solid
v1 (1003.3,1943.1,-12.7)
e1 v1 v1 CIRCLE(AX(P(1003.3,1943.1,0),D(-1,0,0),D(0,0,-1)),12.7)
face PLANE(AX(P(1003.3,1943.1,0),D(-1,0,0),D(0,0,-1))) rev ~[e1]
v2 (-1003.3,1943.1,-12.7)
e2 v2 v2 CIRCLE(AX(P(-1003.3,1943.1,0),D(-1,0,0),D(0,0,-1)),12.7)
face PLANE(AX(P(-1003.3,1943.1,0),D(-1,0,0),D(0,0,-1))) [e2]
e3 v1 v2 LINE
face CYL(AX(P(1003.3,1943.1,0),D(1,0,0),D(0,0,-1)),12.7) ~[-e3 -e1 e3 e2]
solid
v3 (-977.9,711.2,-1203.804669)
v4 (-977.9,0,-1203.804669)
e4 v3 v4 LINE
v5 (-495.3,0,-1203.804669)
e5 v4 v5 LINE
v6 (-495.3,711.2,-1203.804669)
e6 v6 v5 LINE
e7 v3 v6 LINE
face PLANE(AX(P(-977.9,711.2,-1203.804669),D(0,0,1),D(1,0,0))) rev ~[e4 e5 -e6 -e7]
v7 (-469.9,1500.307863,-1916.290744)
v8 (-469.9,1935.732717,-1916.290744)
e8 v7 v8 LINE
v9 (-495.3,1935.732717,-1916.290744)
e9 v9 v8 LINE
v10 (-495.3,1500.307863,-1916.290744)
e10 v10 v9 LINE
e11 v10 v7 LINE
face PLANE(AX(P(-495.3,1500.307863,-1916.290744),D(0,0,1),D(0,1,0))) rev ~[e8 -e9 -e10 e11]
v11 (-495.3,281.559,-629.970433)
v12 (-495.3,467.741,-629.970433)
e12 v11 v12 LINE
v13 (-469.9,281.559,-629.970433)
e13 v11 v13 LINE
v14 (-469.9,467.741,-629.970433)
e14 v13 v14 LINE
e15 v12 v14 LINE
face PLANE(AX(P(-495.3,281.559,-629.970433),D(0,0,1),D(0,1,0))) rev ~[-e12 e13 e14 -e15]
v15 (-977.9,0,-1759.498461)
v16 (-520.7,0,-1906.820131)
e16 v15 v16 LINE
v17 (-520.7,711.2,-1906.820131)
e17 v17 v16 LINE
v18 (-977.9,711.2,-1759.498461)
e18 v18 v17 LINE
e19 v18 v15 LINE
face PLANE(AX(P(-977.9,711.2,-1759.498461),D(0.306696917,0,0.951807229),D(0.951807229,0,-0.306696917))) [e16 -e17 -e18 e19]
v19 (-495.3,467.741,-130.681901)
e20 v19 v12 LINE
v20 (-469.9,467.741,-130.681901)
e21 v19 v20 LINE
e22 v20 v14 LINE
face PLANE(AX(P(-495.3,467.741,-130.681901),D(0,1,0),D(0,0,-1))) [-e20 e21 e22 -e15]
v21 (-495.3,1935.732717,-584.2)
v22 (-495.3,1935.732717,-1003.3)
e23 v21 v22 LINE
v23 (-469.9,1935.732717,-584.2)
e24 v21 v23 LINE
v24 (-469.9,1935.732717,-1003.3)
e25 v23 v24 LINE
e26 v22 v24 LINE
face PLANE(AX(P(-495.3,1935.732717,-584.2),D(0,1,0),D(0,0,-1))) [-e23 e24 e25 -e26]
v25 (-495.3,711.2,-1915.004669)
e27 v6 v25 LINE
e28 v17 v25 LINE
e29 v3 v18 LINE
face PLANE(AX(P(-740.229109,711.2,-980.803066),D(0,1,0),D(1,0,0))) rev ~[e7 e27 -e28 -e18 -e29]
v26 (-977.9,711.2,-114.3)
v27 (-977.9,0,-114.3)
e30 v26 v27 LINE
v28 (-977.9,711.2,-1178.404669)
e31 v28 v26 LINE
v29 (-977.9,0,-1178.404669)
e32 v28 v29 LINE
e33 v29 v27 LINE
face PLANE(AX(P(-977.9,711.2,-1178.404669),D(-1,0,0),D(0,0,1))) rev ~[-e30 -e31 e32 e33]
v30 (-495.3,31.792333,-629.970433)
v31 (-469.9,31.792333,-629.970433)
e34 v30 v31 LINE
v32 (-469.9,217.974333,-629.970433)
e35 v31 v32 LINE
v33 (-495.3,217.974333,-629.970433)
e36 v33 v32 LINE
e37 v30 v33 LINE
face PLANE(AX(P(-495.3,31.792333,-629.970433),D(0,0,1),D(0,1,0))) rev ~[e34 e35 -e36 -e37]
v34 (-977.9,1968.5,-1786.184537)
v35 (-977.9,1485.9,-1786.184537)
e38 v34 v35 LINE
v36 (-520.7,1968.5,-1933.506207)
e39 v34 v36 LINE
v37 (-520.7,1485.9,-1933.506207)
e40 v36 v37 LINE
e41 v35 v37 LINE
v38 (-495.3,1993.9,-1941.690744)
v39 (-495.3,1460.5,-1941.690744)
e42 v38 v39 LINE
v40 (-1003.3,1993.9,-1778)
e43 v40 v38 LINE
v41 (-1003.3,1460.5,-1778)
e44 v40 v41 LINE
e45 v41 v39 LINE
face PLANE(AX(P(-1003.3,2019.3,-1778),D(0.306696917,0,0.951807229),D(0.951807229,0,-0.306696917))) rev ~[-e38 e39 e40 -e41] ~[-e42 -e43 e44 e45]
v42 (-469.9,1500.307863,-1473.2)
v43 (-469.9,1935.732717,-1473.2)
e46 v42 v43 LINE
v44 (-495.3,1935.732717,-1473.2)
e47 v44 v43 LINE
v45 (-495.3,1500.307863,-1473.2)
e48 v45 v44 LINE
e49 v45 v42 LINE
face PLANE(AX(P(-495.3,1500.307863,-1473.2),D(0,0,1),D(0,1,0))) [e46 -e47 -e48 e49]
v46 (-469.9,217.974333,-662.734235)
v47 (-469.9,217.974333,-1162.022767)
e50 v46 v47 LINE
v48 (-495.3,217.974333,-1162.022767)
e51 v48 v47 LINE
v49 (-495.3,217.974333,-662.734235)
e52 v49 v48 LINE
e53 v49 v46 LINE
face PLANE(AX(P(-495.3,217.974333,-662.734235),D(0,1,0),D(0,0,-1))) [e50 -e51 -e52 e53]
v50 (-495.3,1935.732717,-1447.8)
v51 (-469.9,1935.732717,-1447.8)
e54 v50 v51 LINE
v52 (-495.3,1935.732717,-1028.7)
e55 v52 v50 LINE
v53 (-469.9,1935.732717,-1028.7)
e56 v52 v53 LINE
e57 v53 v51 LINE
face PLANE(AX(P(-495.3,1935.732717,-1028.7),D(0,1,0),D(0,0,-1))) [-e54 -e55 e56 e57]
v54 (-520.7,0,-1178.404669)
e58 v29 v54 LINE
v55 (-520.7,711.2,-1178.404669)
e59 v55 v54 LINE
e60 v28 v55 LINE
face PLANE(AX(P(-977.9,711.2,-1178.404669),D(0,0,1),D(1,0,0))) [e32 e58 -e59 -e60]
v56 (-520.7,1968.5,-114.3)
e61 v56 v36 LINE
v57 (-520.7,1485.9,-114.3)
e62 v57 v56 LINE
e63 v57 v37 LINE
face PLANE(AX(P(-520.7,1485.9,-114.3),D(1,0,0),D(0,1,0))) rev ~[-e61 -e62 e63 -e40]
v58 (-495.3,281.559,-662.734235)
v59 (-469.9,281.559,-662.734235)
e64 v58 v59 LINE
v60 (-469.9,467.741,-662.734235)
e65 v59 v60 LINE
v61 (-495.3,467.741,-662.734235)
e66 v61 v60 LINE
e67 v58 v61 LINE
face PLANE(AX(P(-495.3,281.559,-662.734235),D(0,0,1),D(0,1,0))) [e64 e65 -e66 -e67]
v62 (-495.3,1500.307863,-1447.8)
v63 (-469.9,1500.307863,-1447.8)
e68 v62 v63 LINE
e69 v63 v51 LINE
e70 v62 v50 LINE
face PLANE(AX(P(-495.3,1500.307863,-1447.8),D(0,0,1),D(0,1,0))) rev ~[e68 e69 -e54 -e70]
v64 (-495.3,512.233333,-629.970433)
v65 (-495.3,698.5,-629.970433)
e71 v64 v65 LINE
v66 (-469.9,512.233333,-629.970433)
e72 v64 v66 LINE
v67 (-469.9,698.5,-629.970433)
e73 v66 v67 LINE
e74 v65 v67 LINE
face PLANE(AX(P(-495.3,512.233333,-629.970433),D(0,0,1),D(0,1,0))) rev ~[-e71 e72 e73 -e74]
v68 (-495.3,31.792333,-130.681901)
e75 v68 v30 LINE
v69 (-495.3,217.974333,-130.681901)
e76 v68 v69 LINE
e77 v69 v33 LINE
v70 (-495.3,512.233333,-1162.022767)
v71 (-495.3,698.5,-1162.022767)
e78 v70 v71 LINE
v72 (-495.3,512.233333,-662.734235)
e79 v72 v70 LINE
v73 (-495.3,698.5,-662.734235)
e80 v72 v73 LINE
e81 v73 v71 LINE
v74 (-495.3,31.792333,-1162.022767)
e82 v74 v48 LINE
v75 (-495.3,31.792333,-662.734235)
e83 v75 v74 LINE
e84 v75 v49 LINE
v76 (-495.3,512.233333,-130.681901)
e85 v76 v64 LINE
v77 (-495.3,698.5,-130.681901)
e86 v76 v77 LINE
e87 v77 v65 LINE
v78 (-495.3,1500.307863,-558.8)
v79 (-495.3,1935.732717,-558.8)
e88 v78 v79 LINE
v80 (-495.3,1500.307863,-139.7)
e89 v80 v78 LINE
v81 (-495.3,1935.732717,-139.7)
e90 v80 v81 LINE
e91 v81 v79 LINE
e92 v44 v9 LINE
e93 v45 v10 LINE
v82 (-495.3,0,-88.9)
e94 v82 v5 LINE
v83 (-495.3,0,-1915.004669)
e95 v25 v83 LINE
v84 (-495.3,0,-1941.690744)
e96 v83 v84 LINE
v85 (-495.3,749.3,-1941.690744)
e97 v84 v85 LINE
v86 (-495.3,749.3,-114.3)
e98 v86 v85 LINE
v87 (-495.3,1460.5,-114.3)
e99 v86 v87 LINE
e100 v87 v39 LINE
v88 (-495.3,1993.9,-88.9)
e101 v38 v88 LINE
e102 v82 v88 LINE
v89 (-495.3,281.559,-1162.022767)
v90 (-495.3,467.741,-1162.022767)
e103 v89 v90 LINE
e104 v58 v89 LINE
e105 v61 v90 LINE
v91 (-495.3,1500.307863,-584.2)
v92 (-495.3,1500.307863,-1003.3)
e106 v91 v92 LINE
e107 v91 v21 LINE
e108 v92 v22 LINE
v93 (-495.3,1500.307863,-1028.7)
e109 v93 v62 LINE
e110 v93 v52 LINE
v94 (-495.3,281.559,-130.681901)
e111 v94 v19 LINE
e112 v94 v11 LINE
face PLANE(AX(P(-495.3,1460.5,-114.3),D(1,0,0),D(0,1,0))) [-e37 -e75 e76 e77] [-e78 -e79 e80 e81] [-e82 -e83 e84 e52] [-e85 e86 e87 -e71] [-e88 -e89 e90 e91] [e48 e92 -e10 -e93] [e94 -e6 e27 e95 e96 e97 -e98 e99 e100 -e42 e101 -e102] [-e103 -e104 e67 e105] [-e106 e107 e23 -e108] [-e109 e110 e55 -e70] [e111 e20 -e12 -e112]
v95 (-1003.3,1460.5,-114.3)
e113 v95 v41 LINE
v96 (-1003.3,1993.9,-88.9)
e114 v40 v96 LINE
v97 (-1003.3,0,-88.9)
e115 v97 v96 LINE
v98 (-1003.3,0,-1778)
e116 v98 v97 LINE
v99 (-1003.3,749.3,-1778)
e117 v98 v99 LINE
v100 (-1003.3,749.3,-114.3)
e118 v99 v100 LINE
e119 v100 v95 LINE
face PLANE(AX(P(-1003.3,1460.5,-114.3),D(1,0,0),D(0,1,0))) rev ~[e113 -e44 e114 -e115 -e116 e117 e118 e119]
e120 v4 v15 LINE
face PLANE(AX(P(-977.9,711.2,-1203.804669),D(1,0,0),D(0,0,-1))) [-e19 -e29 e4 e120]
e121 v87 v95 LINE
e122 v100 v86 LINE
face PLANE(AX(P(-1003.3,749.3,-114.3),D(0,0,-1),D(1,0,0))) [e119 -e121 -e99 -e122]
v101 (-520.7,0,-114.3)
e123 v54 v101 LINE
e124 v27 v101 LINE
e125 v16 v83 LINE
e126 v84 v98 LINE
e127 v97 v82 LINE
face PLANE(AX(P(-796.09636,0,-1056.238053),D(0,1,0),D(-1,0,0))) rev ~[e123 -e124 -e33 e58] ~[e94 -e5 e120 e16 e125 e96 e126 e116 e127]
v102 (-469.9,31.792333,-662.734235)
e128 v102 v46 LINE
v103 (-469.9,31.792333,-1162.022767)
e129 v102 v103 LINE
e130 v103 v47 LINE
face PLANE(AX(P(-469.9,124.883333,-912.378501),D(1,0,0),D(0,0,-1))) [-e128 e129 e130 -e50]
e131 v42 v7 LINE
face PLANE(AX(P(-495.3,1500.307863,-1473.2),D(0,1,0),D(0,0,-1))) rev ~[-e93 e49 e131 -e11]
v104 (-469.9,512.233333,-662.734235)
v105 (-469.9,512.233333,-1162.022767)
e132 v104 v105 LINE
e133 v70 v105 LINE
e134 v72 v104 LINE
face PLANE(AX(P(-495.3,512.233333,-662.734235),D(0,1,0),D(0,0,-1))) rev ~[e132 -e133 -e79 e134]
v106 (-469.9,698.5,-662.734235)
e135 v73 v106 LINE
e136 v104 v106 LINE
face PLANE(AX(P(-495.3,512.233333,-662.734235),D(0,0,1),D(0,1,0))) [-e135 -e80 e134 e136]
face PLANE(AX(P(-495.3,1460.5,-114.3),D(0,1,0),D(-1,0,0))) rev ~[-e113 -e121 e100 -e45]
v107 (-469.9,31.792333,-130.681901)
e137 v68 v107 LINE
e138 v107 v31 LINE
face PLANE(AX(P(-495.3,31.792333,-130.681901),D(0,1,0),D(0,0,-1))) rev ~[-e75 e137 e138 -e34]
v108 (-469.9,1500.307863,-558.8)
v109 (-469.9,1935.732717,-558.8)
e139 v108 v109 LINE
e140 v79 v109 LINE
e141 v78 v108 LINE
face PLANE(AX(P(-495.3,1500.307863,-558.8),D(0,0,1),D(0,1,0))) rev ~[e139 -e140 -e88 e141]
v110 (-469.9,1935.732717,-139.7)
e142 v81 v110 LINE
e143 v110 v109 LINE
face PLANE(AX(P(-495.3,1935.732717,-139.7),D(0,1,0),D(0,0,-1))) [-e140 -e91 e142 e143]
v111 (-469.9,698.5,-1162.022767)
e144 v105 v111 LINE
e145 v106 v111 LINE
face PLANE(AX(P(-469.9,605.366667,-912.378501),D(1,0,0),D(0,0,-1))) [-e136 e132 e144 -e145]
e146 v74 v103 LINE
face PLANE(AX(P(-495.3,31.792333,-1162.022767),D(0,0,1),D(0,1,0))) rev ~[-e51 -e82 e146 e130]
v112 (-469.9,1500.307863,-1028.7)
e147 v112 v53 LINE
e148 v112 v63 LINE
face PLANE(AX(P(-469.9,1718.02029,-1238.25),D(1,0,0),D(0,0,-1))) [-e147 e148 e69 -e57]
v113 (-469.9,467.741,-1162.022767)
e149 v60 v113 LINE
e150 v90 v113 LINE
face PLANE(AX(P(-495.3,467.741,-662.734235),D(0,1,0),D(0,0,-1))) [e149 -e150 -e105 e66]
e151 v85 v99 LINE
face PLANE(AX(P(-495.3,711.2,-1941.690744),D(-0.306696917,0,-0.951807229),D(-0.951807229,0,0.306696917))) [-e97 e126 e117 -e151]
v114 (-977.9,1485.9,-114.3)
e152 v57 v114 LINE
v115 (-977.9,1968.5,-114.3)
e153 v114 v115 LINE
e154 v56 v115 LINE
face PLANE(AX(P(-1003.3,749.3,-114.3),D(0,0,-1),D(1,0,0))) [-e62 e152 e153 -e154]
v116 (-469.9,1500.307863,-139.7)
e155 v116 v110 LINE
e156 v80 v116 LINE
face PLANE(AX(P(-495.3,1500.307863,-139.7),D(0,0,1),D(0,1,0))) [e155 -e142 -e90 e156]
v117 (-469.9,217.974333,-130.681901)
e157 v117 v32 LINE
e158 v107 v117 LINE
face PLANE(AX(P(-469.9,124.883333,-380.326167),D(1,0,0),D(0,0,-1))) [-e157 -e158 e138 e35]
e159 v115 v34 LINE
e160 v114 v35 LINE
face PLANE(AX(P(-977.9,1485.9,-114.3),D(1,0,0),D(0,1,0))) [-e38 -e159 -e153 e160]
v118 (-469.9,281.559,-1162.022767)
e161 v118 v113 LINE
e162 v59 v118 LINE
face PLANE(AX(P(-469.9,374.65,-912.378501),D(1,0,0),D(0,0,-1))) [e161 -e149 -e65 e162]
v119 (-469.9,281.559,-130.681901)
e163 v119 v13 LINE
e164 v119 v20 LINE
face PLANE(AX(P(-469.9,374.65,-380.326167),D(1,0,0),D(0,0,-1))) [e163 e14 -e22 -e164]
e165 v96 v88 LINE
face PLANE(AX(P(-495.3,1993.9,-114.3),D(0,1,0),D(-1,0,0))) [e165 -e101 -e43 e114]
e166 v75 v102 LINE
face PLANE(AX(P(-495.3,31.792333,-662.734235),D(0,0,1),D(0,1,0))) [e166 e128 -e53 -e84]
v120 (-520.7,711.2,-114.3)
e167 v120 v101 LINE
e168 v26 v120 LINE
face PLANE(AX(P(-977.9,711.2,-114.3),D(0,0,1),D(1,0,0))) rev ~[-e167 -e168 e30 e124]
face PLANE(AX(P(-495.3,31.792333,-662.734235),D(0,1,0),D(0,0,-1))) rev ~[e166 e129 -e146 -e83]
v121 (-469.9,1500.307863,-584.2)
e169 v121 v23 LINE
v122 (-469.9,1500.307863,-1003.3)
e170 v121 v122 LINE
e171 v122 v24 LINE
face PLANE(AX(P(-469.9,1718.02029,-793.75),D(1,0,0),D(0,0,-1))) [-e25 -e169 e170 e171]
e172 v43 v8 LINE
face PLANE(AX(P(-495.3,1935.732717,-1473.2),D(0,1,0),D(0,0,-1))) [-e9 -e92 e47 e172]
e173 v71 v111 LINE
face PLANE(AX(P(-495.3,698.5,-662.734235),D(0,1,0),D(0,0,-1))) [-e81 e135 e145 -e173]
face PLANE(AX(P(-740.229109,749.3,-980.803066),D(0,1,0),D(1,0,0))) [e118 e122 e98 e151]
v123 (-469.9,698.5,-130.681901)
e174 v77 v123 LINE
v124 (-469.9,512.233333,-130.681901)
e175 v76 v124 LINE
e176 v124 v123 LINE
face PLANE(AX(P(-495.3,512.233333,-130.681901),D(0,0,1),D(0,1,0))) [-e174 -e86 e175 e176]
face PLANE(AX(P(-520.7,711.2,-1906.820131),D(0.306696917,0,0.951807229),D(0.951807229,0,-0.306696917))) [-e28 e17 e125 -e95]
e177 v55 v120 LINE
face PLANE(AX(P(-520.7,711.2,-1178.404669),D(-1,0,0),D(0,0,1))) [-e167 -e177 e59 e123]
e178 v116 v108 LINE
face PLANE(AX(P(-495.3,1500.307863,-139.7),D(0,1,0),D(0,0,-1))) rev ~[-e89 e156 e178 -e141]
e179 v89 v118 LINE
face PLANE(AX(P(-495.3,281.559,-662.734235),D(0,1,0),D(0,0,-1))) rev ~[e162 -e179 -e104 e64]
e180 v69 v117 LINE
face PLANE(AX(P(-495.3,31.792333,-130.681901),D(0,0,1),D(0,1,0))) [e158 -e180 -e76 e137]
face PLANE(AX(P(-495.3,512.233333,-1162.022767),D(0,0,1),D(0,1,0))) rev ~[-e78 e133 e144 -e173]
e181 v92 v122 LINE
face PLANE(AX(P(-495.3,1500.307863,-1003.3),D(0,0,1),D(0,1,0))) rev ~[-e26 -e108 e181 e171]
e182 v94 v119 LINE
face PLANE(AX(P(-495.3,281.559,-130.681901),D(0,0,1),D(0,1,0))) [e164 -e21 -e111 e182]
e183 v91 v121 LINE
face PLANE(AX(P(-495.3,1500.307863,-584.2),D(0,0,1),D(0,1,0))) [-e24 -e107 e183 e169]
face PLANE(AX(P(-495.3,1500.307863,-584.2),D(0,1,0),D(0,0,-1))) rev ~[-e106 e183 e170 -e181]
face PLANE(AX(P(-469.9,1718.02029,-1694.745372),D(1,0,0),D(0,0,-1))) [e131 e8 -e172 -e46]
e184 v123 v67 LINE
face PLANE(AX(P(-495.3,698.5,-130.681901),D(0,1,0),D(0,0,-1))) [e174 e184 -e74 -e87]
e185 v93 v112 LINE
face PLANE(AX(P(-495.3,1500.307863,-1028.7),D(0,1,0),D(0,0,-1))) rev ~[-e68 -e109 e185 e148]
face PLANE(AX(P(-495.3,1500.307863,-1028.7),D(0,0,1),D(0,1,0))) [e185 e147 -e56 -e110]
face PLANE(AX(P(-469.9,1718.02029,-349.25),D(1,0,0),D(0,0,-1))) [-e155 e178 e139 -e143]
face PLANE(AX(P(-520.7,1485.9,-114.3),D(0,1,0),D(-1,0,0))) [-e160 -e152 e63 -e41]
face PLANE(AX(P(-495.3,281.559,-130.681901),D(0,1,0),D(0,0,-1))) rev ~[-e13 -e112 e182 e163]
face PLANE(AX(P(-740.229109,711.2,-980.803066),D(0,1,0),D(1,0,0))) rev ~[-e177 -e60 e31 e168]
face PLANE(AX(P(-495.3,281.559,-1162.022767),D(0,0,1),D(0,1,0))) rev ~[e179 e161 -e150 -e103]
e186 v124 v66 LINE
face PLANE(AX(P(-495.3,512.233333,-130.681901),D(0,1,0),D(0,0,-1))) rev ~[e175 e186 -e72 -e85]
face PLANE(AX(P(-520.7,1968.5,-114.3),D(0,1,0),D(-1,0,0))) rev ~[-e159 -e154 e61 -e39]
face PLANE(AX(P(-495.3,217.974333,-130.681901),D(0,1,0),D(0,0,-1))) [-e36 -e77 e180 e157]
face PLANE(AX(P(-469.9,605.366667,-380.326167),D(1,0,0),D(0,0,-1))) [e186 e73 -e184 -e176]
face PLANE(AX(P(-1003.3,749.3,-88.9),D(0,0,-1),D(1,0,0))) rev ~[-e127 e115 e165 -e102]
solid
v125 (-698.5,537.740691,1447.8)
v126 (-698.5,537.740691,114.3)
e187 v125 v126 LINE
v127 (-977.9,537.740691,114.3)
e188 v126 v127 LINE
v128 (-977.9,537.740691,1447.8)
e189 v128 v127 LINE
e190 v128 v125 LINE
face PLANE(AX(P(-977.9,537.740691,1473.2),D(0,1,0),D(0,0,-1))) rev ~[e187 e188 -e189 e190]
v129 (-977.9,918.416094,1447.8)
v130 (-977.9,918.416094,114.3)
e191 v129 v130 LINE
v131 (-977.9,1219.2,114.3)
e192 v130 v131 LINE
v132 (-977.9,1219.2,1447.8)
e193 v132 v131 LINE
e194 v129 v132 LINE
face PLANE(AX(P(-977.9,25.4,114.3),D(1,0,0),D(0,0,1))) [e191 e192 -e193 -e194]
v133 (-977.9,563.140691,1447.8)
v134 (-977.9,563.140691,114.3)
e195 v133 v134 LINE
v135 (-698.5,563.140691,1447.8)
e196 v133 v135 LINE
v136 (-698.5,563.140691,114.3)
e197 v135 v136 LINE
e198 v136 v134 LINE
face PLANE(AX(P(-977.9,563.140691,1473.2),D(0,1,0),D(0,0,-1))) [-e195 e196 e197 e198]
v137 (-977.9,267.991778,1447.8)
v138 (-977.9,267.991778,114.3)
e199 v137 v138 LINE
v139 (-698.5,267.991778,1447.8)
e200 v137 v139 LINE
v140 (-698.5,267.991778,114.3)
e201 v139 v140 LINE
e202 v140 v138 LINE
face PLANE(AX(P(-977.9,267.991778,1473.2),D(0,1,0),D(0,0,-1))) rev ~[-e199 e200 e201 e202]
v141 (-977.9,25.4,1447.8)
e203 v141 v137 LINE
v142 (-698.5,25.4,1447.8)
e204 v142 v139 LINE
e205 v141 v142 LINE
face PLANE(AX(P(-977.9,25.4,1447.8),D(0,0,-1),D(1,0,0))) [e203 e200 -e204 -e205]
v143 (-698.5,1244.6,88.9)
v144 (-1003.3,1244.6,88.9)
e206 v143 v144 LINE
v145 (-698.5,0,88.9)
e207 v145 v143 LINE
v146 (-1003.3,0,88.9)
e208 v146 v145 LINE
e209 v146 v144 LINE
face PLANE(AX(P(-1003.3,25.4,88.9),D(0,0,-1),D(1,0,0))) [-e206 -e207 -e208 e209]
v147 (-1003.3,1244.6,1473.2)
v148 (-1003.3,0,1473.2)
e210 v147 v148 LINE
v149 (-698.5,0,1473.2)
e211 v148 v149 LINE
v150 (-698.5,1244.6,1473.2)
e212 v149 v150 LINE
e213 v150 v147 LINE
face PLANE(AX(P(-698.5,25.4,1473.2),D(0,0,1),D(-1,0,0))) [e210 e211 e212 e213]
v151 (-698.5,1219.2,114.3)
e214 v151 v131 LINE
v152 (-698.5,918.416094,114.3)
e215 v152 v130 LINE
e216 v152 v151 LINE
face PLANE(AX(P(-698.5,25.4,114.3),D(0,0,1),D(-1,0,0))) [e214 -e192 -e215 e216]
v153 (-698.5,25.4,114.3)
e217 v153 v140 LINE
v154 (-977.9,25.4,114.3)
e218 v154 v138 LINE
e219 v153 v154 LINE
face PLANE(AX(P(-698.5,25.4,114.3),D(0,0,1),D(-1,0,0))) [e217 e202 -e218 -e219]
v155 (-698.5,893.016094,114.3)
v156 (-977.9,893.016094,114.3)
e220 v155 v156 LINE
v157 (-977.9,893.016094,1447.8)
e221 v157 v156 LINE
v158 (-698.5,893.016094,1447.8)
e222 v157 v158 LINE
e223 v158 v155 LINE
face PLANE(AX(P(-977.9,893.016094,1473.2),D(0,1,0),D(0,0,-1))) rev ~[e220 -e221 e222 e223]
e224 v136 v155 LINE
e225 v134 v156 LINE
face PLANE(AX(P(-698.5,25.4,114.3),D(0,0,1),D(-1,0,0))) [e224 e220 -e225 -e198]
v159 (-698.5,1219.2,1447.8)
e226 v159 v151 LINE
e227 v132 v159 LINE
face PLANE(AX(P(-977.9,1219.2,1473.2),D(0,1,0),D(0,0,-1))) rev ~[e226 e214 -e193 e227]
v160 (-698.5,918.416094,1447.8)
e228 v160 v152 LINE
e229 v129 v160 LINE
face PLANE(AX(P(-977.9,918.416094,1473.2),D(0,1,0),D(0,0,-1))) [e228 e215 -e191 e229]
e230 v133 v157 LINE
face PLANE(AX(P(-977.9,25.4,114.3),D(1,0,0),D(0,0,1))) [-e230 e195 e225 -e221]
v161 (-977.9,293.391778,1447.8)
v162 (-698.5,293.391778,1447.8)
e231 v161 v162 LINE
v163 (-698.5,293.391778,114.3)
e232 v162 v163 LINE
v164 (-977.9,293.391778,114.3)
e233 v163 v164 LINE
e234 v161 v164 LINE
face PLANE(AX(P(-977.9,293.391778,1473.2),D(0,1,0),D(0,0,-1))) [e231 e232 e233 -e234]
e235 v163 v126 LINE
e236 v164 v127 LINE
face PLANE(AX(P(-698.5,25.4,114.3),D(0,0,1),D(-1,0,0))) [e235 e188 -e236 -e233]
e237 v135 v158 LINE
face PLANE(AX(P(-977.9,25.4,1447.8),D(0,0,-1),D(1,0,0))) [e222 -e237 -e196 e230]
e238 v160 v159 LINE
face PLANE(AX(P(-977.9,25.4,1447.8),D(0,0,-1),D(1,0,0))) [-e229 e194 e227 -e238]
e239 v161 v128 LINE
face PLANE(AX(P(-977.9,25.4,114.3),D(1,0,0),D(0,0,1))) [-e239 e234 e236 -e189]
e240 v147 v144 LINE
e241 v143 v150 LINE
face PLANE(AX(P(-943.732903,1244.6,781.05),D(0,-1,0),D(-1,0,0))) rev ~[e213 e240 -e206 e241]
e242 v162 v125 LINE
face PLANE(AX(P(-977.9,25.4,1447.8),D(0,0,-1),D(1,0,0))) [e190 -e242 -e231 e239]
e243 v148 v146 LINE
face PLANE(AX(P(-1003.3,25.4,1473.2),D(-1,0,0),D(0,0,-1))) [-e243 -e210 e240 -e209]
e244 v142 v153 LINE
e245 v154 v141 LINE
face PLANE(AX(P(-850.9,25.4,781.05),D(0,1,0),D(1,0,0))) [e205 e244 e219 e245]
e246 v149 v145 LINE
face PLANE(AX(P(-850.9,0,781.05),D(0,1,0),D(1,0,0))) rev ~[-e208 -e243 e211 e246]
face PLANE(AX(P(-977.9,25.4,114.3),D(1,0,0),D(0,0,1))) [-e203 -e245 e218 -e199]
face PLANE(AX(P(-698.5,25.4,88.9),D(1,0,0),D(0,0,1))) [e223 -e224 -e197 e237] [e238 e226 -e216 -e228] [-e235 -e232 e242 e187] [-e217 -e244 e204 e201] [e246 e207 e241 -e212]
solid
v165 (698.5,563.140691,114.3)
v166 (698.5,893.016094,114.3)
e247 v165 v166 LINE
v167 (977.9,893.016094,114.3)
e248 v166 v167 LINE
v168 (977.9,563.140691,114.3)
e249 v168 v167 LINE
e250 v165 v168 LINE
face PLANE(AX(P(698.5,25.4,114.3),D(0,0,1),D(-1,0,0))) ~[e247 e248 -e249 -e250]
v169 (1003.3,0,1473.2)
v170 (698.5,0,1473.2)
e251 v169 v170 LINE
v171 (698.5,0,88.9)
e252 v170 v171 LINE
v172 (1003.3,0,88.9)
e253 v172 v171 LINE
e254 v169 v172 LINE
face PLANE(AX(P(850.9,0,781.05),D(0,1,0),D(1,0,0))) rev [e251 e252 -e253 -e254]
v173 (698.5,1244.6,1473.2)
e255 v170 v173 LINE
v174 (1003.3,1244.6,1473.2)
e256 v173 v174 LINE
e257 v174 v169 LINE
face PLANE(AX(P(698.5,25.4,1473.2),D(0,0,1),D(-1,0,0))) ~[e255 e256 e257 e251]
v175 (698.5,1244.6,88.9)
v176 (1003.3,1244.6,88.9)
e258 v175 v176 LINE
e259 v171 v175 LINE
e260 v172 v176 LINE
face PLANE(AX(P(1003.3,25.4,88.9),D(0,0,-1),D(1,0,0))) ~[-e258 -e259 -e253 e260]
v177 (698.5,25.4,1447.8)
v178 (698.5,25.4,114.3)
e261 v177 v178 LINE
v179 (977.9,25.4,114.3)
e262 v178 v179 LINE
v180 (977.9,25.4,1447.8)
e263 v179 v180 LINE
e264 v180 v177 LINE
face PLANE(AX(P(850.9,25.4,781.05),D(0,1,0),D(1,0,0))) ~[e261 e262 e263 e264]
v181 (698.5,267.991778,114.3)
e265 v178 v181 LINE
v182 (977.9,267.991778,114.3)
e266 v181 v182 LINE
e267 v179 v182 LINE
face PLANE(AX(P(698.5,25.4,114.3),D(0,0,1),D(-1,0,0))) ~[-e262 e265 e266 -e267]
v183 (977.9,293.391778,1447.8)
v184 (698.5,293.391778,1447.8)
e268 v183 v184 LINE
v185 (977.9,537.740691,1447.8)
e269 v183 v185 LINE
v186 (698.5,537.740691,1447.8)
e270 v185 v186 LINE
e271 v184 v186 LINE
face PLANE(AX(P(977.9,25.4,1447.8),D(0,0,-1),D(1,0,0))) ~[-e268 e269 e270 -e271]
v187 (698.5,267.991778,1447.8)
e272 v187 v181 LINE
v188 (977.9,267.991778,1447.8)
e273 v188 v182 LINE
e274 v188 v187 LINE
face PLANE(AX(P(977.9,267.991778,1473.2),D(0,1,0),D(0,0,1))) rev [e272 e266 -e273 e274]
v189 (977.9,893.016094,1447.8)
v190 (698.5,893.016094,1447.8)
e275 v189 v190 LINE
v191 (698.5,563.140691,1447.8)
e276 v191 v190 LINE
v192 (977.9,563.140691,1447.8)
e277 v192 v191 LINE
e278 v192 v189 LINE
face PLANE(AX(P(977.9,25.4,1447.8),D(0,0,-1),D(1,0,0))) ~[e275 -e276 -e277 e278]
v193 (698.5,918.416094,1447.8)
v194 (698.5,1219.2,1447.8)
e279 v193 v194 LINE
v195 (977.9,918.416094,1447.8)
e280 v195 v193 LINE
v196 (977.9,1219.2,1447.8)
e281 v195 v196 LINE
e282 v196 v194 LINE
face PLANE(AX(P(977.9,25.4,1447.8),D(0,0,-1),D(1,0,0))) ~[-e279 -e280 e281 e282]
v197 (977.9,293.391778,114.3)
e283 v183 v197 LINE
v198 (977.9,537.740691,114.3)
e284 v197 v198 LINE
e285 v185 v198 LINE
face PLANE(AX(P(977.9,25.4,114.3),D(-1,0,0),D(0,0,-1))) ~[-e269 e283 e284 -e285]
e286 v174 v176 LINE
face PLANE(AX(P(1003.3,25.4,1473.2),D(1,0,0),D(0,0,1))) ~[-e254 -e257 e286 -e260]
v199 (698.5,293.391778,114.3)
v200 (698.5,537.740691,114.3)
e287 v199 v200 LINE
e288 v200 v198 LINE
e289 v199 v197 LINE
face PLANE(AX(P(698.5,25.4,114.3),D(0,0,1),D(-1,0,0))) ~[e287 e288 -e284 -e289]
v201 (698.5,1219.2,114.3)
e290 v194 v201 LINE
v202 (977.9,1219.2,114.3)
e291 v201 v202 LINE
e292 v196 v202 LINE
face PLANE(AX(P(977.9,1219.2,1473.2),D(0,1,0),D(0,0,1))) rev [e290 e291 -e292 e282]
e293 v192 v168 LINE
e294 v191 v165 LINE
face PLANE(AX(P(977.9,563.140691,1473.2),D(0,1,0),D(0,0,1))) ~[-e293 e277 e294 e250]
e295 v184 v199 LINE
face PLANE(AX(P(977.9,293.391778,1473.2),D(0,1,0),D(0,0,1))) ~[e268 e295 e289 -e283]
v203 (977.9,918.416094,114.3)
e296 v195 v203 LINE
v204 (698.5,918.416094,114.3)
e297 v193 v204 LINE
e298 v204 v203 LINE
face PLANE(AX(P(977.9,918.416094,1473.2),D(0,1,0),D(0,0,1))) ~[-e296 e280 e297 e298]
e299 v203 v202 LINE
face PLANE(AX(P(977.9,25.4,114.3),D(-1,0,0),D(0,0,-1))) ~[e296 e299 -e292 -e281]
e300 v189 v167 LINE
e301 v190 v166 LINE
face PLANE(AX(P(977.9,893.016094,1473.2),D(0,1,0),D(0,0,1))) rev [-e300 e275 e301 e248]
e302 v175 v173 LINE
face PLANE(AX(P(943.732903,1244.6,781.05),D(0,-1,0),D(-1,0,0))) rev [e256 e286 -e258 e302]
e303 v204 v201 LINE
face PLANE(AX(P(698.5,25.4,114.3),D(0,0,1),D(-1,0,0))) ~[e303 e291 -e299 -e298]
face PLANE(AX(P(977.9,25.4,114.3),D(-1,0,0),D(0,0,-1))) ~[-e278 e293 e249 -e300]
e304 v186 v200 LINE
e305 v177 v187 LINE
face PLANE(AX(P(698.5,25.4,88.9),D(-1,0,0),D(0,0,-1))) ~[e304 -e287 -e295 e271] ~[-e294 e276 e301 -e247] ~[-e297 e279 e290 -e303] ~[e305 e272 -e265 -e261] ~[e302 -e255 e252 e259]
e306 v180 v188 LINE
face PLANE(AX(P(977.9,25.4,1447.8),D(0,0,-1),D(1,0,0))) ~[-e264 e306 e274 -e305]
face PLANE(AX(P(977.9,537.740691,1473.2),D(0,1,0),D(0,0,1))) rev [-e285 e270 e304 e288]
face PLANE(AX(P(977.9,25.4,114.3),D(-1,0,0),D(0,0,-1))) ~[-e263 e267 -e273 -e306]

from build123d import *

# Parameters (mm, degrees)
SKETCH1_R            = 12.7
BOSS_EXTRUDE1_DEPTH  = 2006.6
BOSS_EXTRUDE2_DEPTH  = 38.1
SKETCH4_W            = 457.2
SKETCH4_H            = 1064.104668536
BOSS_EXTRUDE3_DEPTH  = 711.2
SKETCH5_W            = 499.288531824
SKETCH5_H            = 186.266666667
SKETCH5_H_2          = 186.182
BOSS_EXTRUDE4_DEPTH  = 25.4
SKETCH6_W            = 508
SKETCH6_H            = 25.4
BOSS_EXTRUDE5_DEPTH  = 1244.6
BOSS_EXTRUDE6_REACH  = 2886.719
SKETCH7_W            = 508
SKETCH7_H            = 533.4
SKETCH7_W_2          = 457.2
SKETCH7_H_2          = 482.6
SKETCH8_W            = 419.1
SKETCH8_H            = 435.424853887
SKETCH8_W_2          = 443.090744485
BOSS_EXTRUDE7_DEPTH  = 25.4
SKETCH9_W            = 304.8
SKETCH9_H            = 1384.3
BOSS_EXTRUDE8_DEPTH  = 25.4
BOSS_EXTRUDE9_DEPTH  = 1219.2
SKETCH11_W           = 1384.3
SKETCH11_H           = 25.4
BOSS_EXTRUDE10_DEPTH = 279.4


with BuildPart() as part:
    # Sketch1 → Boss-Extrude1 (new body)
    with BuildSketch(Plane.ZY.offset(-1003.3)):
        with Locations(Location((0, 1943.1, 0), (0, 0, 180))):
            Circle(SKETCH1_R)
    extrude(amount=BOSS_EXTRUDE1_DEPTH)


with BuildPart() as body_2:
    # Sketch3 → Boss-Extrude2 (new body)
    with BuildSketch(Plane(origin=(0, 711.2, 0), x_dir=(1, 0, 0), z_dir=(0, 1, 0))):
        Polygon((-495.3, 1941.690744485), (-1003.3, 1778), (-1003.3, 88.9), (-495.3, 88.9), align=None)
    extrude(amount=BOSS_EXTRUDE2_DEPTH)

    # Sketch4 → Boss-Extrude3 (add)
    with BuildSketch(Plane.XZ.offset(-711.2)):
        Polygon((-977.9, -1759.498461275), (-520.7, -1906.820131312), (-495.3, -1915.004668536), (-495.3, -1941.690744485), (-1003.3, -1778), (-1003.3, -88.9), (-495.3, -88.9), (-495.3, -1203.804668536), (-520.7, -1203.804668536), (-977.9, -1203.804668536), align=None)
        with Locations((-749.3, -646.352334268)):
            Rectangle(SKETCH4_W, SKETCH4_H, mode=Mode.SUBTRACT)
    extrude(amount=BOSS_EXTRUDE3_DEPTH)

    # Sketch5 → Boss-Extrude4 (add)
    with BuildSketch(Plane(origin=(-495.3, 0, 0), x_dir=(0, 0, -1), z_dir=(1, 0, 0))):
        with Locations((912.378501402, 605.366666667)):
            Rectangle(SKETCH5_W, SKETCH5_H)
        with Locations((380.326167134, 605.366666667)):
            Rectangle(SKETCH5_W, SKETCH5_H)
        with Locations((912.378501402, 124.883333333)):
            Rectangle(SKETCH5_W, SKETCH5_H_2)
        with Locations((380.326167134, 374.65)):
            Rectangle(SKETCH5_W, SKETCH5_H_2)
        with Locations((380.326167134, 124.883333333)):
            Rectangle(SKETCH5_W, SKETCH5_H_2)
        with Locations((912.378501402, 374.65)):
            Rectangle(SKETCH5_W, SKETCH5_H_2)
    extrude(amount=BOSS_EXTRUDE4_DEPTH)

    # Sketch6 → Boss-Extrude5 (add)
    with BuildSketch(Plane(origin=(0, 749.3, 0), x_dir=(1, 0, 0), z_dir=(0, 1, 0))):
        with Locations((-749.3, 101.6)):
            Rectangle(SKETCH6_W, SKETCH6_H)
    extrude(amount=BOSS_EXTRUDE5_DEPTH)

    # Boss-Extrude6: up to this plane
    boss_extrude6_end = Plane(origin=(-1003.3, 2019.3, -1778), z_dir=(0.306696917141153, 0, 0.9518072289156627))
    # Sketch7 → Boss-Extrude6 (add, up to the surface)
    with BuildSketch(Plane(origin=(0, 0, -114.3), x_dir=(-1, 0, 0), z_dir=(0, 0, -1)), mode=Mode.PRIVATE) as boss_extrude6_sk1:
        with Locations((749.3, 1727.2)):
            Rectangle(SKETCH7_W, SKETCH7_H)
        with Locations((749.3, 1727.2)):
            Rectangle(SKETCH7_W_2, SKETCH7_H_2, mode=Mode.SUBTRACT)
    boss_extrude6_tool1 = split(extrude(boss_extrude6_sk1.sketch, amount=BOSS_EXTRUDE6_REACH, mode=Mode.PRIVATE), bisect_by=boss_extrude6_end, keep=Keep.BOTH, mode=Mode.PRIVATE)
    add(boss_extrude6_tool1.solids().sort_by_distance((-749.3, 1986.534, -114.3))[0])

    # Sketch8 → Boss-Extrude7 (add)
    with BuildSketch(Plane(origin=(-495.3, 0, 0), x_dir=(0, 0, -1), z_dir=(1, 0, 0))):
        with Locations((349.25, 1718.020290396)):
            Rectangle(SKETCH8_W, SKETCH8_H)
        with Locations((793.75, 1718.020290396)):
            Rectangle(SKETCH8_W, SKETCH8_H)
        with Locations((1238.25, 1718.020290396)):
            Rectangle(SKETCH8_W, SKETCH8_H)
        with Locations((1694.745372243, 1718.020290396)):
            Rectangle(SKETCH8_W_2, SKETCH8_H)
    extrude(amount=BOSS_EXTRUDE7_DEPTH)


with BuildPart() as body_3:
    # Sketch9 → Boss-Extrude8 (new body)
    with BuildSketch(Plane(origin=(0, 0, 0), x_dir=(1, 0, 0), z_dir=(0, 1, 0))):
        with Locations((-850.9, -781.05)):
            Rectangle(SKETCH9_W, SKETCH9_H)
    extrude(amount=BOSS_EXTRUDE8_DEPTH)

    # Sketch10 → Boss-Extrude9 (add)
    with BuildSketch(Plane(origin=(0, 25.4, 0), x_dir=(1, 0, 0), z_dir=(0, 1, 0))):
        Polygon((-698.5, -114.3), (-977.9, -114.3), (-977.9, -1447.8), (-698.5, -1447.8), (-698.5, -1473.2), (-1003.3, -1473.2), (-1003.3, -88.9), (-698.5, -88.9), align=None)
    extrude(amount=BOSS_EXTRUDE9_DEPTH)

    # Sketch11 → Boss-Extrude10 (add)
    with BuildSketch(Plane(origin=(-977.9, 0, 0), x_dir=(0, 0, -1), z_dir=(1, 0, 0))):
        with Locations((-781.05, 1231.9)):
            Rectangle(SKETCH11_W, SKETCH11_H)
        with Locations((-781.05, 905.716093533)):
            Rectangle(SKETCH11_W, SKETCH11_H)
        with Locations((-781.05, 550.440690937)):
            Rectangle(SKETCH11_W, SKETCH11_H)
        with Locations((-781.05, 280.691778002)):
            Rectangle(SKETCH11_W, SKETCH11_H)
    extrude(amount=BOSS_EXTRUDE10_DEPTH)


with BuildPart() as body_4:
    # Mirror1: mirrored copy
    add(body_3.part.mirror(Plane(origin=(0, 0, 0), x_dir=(0, 0, 1), z_dir=(1, 0, 0))))


solid = Compound([part.part, body_2.part, body_3.part, body_4.part])
